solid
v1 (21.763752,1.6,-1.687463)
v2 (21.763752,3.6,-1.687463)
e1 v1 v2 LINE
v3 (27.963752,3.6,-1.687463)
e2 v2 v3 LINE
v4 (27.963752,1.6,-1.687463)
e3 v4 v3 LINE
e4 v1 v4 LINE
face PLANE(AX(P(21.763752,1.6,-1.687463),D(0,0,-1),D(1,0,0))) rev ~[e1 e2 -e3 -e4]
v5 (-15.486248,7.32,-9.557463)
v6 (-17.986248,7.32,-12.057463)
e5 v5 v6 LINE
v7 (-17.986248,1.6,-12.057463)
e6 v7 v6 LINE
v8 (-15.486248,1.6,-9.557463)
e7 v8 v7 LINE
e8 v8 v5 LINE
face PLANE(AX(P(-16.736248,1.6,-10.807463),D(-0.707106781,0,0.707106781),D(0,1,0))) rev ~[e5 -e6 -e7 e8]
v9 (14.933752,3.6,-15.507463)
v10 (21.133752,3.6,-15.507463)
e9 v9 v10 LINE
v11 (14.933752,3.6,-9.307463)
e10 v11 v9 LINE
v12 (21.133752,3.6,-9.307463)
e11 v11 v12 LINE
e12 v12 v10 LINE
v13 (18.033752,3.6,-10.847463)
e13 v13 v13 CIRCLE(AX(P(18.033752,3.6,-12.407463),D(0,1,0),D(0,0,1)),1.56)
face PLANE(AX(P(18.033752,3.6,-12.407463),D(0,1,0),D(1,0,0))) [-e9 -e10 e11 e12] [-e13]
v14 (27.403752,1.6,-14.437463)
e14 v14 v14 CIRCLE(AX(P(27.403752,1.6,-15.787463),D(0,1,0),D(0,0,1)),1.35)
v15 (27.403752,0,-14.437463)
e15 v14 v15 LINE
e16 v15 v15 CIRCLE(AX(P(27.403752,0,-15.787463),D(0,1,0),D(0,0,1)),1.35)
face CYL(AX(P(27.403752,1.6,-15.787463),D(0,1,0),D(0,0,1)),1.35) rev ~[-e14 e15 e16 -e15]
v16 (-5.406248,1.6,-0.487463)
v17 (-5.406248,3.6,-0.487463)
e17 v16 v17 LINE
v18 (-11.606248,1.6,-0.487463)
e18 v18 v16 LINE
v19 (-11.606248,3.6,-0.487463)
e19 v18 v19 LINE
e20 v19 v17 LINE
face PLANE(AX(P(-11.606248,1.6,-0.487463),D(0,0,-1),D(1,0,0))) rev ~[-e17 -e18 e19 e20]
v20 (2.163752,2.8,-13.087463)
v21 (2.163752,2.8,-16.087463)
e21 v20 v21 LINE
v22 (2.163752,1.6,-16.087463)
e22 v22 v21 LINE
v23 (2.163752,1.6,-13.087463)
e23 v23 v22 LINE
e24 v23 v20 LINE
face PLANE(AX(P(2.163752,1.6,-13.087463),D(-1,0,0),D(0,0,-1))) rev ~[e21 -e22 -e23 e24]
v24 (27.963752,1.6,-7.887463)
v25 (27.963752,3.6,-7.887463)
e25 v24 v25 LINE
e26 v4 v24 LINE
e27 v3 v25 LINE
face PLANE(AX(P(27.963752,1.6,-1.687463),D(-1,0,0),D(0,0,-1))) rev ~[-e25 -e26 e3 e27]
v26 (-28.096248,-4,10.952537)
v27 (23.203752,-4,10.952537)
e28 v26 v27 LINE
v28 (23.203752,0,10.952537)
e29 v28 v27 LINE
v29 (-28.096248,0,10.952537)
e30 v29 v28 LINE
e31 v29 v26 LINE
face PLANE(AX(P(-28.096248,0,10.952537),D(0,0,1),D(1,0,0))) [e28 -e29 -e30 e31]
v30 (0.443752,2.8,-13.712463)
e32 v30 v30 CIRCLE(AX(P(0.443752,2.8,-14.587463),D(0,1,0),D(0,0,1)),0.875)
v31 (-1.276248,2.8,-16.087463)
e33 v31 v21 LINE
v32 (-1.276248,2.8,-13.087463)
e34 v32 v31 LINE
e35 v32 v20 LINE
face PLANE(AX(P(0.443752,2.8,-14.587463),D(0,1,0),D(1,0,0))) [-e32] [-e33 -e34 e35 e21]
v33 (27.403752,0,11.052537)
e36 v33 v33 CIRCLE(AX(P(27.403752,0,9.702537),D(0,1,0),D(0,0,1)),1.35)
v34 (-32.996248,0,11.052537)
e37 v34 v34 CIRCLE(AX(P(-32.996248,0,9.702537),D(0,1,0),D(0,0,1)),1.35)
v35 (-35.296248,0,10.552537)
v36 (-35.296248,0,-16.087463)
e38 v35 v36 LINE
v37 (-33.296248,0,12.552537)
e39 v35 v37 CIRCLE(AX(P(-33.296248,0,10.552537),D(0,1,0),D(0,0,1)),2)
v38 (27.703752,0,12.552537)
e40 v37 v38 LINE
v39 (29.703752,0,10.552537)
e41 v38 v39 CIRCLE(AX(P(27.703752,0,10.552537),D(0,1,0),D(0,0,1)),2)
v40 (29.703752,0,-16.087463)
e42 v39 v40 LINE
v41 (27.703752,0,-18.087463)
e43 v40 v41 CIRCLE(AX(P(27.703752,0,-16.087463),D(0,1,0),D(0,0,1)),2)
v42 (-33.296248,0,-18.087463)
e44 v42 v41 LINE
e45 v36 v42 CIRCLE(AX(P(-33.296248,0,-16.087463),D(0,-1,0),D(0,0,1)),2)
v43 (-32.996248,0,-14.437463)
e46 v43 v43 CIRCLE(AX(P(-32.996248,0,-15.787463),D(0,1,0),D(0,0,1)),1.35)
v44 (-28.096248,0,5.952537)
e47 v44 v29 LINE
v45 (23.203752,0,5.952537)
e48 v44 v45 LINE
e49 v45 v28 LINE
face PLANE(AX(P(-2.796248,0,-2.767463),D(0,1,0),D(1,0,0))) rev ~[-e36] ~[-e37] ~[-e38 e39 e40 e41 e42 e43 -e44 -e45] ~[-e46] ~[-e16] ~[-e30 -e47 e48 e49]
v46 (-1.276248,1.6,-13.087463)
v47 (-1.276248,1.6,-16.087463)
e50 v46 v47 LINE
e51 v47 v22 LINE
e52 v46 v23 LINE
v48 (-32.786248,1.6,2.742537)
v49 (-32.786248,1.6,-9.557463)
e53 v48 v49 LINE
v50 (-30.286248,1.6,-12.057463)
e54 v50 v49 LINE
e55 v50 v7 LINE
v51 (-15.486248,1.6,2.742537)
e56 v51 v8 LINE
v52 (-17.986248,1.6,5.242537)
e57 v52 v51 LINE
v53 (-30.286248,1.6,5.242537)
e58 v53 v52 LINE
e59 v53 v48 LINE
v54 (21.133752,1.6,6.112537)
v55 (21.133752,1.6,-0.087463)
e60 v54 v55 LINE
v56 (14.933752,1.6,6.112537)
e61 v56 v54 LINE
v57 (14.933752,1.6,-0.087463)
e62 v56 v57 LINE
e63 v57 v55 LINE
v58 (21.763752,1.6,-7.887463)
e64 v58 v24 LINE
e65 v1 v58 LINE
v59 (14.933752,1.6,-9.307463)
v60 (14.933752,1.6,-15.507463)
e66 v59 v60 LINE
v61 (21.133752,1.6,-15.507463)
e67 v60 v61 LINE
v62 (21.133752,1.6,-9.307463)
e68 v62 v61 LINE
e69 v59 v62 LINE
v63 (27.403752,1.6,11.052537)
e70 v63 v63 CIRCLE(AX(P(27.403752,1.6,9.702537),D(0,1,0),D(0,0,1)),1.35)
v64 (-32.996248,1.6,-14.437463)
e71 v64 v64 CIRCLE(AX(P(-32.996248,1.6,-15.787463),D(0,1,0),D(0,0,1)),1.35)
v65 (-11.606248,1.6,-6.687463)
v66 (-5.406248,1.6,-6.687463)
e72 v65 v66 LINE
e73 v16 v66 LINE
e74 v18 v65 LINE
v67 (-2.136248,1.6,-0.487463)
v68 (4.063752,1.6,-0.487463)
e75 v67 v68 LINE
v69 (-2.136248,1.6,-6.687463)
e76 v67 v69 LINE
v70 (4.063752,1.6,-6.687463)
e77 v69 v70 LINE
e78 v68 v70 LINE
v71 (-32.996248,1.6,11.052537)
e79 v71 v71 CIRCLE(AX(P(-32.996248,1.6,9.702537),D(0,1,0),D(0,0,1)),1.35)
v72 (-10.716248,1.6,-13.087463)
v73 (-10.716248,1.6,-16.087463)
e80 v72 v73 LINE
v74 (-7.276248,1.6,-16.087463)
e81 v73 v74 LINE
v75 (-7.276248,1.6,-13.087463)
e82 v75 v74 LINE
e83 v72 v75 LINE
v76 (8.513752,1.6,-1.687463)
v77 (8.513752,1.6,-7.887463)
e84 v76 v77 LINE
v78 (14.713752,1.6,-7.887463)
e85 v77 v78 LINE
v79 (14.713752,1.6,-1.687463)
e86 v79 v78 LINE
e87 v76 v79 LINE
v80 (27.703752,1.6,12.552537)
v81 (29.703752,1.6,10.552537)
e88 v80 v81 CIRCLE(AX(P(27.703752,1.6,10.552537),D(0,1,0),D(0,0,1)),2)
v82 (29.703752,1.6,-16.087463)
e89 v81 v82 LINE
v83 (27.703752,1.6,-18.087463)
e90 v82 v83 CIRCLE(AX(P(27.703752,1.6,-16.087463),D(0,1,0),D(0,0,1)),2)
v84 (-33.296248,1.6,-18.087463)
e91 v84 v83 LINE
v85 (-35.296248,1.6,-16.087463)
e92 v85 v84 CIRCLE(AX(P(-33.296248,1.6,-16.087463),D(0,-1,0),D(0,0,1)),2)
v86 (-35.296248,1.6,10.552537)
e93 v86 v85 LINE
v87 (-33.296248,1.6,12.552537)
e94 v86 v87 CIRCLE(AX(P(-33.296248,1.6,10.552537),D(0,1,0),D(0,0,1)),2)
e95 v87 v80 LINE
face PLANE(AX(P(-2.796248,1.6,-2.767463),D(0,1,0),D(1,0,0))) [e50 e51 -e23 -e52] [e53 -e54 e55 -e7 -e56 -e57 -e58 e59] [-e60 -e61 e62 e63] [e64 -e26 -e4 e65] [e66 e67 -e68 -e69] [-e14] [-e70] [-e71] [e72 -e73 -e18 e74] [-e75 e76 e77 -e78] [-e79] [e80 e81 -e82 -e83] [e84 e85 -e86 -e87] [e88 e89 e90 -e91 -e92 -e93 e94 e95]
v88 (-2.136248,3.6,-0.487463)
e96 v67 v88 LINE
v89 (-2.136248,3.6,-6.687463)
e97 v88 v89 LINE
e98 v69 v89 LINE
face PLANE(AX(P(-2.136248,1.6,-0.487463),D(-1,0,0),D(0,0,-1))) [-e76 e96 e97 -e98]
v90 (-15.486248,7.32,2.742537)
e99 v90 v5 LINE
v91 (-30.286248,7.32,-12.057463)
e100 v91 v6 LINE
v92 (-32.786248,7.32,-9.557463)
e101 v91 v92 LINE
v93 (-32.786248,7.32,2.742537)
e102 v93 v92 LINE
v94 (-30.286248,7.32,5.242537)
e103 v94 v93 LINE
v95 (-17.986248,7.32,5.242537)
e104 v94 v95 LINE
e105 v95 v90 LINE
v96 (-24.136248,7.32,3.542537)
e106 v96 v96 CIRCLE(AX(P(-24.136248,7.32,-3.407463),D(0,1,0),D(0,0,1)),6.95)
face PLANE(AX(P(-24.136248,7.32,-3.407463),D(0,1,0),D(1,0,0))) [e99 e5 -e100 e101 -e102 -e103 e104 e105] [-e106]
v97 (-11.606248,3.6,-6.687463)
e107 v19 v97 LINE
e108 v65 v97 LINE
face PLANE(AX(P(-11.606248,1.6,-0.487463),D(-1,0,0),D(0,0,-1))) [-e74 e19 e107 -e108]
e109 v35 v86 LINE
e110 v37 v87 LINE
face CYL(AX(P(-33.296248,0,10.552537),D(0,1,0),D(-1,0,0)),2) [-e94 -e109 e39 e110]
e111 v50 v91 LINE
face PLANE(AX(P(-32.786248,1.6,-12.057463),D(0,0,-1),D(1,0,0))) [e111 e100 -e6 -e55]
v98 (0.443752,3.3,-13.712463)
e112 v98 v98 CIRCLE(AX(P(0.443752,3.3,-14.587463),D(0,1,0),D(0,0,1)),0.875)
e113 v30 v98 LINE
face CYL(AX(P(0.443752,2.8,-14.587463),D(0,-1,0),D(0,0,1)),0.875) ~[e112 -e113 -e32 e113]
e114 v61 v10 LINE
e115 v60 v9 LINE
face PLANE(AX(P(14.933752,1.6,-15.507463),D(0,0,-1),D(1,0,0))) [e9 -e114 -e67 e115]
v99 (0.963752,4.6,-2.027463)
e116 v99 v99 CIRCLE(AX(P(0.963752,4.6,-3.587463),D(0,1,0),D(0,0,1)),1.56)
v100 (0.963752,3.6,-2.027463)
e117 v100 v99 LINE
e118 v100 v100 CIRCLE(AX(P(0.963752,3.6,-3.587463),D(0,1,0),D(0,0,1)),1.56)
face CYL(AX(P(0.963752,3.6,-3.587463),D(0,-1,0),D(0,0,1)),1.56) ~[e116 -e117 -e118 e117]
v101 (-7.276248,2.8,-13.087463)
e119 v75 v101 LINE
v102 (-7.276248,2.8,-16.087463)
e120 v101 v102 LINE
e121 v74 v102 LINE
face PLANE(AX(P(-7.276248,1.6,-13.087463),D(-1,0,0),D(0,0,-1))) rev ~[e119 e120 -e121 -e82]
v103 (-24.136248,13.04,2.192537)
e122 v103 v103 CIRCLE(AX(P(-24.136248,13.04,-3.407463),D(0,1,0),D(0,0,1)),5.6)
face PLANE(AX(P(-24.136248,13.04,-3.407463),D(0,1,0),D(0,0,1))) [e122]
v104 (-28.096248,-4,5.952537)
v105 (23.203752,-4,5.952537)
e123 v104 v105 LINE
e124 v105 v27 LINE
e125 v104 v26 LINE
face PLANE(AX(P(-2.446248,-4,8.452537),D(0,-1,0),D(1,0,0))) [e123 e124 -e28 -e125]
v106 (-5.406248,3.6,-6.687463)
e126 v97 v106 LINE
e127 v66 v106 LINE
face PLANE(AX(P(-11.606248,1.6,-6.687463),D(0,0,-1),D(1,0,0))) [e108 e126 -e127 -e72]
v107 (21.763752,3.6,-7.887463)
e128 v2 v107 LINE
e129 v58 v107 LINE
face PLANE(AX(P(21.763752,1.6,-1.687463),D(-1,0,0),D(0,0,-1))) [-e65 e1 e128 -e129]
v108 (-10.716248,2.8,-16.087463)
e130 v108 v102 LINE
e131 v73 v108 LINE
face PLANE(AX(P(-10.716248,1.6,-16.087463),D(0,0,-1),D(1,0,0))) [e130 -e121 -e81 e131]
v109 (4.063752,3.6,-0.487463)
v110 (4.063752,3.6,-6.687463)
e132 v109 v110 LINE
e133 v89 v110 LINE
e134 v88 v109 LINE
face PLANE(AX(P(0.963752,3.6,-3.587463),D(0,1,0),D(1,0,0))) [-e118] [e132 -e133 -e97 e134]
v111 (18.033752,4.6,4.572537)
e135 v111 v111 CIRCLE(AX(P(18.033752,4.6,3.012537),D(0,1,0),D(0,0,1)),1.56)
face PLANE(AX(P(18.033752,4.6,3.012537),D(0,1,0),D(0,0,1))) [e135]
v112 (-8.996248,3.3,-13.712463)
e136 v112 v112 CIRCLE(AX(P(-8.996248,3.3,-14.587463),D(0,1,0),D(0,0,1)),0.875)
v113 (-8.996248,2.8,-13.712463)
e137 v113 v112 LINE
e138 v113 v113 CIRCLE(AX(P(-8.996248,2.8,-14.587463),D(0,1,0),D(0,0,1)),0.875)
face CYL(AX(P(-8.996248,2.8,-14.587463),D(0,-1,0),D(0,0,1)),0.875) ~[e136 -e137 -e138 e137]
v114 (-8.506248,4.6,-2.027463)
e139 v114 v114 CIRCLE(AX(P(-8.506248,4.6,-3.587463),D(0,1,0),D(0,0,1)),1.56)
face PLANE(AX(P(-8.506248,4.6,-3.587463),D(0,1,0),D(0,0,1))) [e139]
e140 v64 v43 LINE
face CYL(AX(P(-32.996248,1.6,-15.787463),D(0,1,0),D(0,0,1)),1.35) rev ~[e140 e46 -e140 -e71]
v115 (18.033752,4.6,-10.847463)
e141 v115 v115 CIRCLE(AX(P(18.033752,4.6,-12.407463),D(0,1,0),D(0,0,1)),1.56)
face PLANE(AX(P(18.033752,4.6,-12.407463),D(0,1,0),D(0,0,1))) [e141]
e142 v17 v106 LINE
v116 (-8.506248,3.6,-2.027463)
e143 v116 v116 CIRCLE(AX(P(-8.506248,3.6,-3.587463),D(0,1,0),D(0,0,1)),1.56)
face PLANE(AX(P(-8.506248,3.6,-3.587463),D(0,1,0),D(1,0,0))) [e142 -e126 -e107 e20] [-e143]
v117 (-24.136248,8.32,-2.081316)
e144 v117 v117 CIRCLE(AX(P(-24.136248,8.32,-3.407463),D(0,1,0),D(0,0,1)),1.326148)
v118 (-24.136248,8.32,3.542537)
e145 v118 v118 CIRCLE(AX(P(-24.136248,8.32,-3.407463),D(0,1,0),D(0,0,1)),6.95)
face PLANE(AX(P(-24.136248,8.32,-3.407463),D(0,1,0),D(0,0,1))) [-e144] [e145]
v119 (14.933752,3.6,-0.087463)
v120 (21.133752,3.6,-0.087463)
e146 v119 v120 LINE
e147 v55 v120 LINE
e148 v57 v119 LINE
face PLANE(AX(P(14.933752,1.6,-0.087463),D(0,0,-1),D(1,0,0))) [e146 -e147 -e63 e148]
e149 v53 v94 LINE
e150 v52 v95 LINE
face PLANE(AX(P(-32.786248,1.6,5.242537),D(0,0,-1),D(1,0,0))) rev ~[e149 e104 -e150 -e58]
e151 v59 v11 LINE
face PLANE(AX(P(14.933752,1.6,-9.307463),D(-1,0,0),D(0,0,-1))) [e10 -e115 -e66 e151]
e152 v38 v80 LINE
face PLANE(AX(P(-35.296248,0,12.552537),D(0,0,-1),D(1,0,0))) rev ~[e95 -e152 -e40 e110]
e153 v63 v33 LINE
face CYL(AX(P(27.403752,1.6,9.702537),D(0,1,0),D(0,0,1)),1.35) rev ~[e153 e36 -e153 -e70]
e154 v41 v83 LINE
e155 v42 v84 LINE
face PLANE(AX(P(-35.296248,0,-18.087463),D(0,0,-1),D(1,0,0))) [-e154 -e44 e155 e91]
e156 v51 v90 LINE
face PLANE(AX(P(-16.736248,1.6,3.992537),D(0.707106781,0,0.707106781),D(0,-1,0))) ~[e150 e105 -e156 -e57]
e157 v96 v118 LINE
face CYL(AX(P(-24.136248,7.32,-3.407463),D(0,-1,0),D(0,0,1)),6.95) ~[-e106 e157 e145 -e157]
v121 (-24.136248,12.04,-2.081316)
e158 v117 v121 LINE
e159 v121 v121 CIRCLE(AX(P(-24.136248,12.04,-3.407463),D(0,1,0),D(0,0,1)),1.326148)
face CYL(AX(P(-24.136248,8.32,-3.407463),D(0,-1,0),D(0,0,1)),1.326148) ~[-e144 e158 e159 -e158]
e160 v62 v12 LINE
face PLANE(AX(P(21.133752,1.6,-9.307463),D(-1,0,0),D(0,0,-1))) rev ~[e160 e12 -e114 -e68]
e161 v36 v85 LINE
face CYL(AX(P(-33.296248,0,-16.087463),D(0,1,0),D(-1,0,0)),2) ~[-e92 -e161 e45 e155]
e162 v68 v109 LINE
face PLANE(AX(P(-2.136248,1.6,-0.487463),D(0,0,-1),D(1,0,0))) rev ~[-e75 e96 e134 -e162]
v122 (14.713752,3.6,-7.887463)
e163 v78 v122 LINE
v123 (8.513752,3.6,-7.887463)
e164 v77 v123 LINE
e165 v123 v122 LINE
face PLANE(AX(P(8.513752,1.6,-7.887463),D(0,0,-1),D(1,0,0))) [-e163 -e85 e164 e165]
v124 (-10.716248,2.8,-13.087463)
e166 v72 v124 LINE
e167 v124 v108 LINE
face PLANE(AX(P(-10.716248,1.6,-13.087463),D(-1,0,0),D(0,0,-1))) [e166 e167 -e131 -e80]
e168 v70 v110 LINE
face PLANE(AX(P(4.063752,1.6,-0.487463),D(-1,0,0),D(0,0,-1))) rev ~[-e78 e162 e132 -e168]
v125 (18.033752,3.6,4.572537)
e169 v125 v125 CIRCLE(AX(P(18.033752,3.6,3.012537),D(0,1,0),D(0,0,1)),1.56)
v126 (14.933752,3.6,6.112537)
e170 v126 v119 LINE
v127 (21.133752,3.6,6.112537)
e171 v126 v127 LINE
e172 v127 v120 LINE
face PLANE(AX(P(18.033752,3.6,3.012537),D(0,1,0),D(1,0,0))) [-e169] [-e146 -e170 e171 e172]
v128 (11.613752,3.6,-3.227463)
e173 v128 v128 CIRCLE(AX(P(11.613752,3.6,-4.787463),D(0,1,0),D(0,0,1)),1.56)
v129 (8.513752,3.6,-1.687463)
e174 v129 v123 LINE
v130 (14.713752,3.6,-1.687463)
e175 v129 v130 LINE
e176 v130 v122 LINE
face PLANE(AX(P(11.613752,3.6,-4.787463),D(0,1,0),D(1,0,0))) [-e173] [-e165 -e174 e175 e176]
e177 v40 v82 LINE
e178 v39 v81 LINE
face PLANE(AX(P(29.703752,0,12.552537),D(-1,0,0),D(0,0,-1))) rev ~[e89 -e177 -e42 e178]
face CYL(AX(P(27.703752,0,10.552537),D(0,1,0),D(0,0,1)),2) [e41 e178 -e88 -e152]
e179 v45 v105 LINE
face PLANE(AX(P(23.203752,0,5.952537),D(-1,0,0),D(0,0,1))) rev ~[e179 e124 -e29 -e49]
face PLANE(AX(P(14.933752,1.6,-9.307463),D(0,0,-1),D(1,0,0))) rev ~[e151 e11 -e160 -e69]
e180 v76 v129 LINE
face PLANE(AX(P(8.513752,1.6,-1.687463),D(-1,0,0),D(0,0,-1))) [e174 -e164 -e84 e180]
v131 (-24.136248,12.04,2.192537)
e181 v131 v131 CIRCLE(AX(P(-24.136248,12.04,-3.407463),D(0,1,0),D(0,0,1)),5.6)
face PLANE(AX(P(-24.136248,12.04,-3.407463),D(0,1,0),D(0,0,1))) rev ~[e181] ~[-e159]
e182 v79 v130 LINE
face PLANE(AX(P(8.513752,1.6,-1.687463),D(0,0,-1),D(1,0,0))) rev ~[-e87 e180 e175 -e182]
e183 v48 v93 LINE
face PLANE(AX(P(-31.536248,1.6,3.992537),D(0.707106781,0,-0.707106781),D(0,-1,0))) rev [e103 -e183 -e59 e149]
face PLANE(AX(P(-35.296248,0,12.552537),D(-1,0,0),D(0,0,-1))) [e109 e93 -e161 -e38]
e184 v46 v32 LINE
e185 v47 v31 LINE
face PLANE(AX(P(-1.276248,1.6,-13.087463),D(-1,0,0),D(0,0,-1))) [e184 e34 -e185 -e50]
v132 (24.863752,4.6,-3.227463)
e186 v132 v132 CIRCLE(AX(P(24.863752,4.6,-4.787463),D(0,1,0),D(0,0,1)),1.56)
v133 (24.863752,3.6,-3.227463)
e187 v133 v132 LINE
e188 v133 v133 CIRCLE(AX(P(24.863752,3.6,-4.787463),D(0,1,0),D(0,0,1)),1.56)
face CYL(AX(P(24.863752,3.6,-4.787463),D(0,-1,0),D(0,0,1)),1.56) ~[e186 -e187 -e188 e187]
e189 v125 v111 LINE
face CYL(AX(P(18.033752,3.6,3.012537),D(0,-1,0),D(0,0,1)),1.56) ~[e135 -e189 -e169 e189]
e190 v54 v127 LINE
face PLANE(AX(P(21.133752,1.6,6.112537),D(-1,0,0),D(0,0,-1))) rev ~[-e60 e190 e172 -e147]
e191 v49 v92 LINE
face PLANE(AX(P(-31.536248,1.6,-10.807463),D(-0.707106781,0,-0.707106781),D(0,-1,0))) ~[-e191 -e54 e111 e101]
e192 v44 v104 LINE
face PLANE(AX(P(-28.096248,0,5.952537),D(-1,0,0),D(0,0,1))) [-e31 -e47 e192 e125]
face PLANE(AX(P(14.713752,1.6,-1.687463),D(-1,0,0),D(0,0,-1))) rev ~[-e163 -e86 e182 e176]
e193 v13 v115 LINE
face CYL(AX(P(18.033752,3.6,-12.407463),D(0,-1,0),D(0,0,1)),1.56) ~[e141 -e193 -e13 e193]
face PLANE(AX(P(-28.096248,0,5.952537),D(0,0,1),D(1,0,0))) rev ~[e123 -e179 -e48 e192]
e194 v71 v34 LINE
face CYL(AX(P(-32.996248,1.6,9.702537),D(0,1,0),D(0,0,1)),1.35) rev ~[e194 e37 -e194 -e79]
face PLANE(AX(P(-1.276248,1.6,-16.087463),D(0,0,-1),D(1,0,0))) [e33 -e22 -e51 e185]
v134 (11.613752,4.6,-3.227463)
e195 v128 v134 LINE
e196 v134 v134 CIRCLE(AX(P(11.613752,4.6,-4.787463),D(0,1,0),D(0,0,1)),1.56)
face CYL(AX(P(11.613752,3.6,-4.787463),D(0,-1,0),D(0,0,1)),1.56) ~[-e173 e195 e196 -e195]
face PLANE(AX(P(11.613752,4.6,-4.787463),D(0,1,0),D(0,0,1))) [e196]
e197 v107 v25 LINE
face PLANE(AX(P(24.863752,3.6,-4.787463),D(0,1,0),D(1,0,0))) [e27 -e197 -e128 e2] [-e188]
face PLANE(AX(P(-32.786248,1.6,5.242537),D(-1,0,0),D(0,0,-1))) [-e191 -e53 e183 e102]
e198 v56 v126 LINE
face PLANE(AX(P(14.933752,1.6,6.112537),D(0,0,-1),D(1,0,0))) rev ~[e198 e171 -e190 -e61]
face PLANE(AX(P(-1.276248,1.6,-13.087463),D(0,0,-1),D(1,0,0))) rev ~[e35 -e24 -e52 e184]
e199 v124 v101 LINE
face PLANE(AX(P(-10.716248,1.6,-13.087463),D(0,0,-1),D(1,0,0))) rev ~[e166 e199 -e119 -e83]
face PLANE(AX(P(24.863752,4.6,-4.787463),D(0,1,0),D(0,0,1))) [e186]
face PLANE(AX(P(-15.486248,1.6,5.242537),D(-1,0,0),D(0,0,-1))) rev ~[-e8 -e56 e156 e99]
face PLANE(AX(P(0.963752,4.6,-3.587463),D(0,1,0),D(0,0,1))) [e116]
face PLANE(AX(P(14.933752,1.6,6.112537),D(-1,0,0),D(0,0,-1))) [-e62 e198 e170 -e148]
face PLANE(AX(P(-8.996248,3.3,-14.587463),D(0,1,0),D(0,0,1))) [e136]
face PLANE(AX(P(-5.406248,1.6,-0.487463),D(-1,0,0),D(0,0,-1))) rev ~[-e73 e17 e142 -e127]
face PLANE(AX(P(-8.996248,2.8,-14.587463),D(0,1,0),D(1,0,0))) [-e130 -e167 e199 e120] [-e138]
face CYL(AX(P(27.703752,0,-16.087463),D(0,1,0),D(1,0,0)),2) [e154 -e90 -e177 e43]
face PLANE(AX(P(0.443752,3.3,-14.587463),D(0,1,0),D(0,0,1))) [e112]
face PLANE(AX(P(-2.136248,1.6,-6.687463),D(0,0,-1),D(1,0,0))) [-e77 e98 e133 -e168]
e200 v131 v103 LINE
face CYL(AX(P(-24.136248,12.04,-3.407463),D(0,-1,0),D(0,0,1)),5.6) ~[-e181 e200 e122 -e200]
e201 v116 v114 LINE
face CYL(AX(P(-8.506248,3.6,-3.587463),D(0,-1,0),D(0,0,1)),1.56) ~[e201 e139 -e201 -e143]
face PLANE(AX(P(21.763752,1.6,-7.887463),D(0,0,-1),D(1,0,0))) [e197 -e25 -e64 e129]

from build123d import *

# Parameters (mm, degrees)
SKETCH_1_W          = 65
SKETCH_1_H          = 30.64
EXTRUDE_1_DEPTH     = 1.6
FILLET_1_R          = 2
SKETCH_2_R          = 1.35
CUT_EXTRUDE_1_DEPTH = 1.6
SKETCH_3_W          = 51.3
SKETCH_3_H          = 5
EXTRUDE_2_DEPTH     = 4
SKETCH_4_W          = 17.3
SKETCH_4_H          = 17.3
EXTRUDE_3_DEPTH     = 5.72
CHAMFER_1_SIZE      = 2.5
SKETCH_5_R          = 6.95
EXTRUDE_4_DEPTH     = 1
SKETCH_6_R          = 1.326147724
EXTRUDE_5_DEPTH     = 3.72
SKETCH_7_R          = 5.6
EXTRUDE_6_DEPTH     = 1
SKETCH_8_W          = 6.2
SKETCH_8_H          = 6.2
EXTRUDE_7_DEPTH     = 2
SKETCH_9_R          = 1.56
EXTRUDE_8_DEPTH     = 1
SKETCH_10_W         = 3.44
SKETCH_10_H         = 3
EXTRUDE_9_DEPTH     = 1.2
SKETCH_11_R         = 0.875
EXTRUDE_10_DEPTH    = 0.5


with BuildPart() as part:
    # 草图1 → 凸台-拉伸1 (new body)
    with BuildSketch(Plane(origin=(0, 0, 0), x_dir=(1, 0, 0), z_dir=(0, 1, 0))):
        with Locations((-2.796247961, 2.767463295)):
            Rectangle(SKETCH_1_W, SKETCH_1_H)
    extrude(amount=EXTRUDE_1_DEPTH)

    # 圆角1
    fillet_1_edges = [part.edges().sort_by_distance(p)[0] for p in [
        (-35.296247961, 0.8, -18.087463295),
        (29.703752039, 0.8, -18.087463295),
        (29.703752039, 0.8, 12.552536705),
        (-35.296247961, 0.8, 12.552536705),
    ]]
    fillet(fillet_1_edges, radius=FILLET_1_R)

    # 草图2 → 切除-拉伸1 (cut)
    with BuildSketch(Plane(origin=(0, 1.6, 0), x_dir=(1, 0, 0), z_dir=(0, 1, 0))):
        with Locations(Location((-32.996247961, 15.787463295, 0), (0, 0, 270))):  # turned: the seam where the file's is
            Circle(SKETCH_2_R)
        with Locations(Location((27.403752039, 15.787463295, 0), (0, 0, 270))):  # turned: the seam where the file's is
            Circle(SKETCH_2_R)
        with Locations(Location((27.403752039, -9.702536705, 0), (0, 0, 270))):  # turned: the seam where the file's is
            Circle(SKETCH_2_R)
        with Locations(Location((-32.996247961, -9.702536705, 0), (0, 0, 270))):  # turned: the seam where the file's is
            Circle(SKETCH_2_R)
    extrude(amount=-CUT_EXTRUDE_1_DEPTH, mode=Mode.SUBTRACT)

    # 草图3 → 凸台-拉伸2 (add)
    with BuildSketch(Plane.XZ):
        with Locations((-2.446247961, 8.452536705)):
            Rectangle(SKETCH_3_W, SKETCH_3_H)
    extrude(amount=EXTRUDE_2_DEPTH)

    # 草图4 → 凸台-拉伸3 (add)
    with BuildSketch(Plane(origin=(0, 1.6, 0), x_dir=(1, 0, 0), z_dir=(0, 1, 0))):
        with Locations((-24.136247961, 3.407463295)):
            Rectangle(SKETCH_4_W, SKETCH_4_H)
    extrude(amount=EXTRUDE_3_DEPTH)

    # 倒角1
    chamfer_1_edges = [part.edges().sort_by_distance(p)[0] for p in [
        (-32.786247961, 4.46, -12.057463295),
        (-32.786247961, 4.46, 5.242536705),
        (-15.486247961, 4.46, 5.242536705),
        (-15.486247961, 4.46, -12.057463295),
    ]]
    chamfer(chamfer_1_edges, length=CHAMFER_1_SIZE)

    # 草图5 → 凸台-拉伸4 (add)
    with BuildSketch(Plane(origin=(0, 7.32, 0), x_dir=(1, 0, 0), z_dir=(0, 1, 0))):
        with Locations(Location((-24.136247961, 3.407463295, 0), (0, 0, 270))):  # turned: the seam where the file's is
            Circle(SKETCH_5_R)
    extrude(amount=EXTRUDE_4_DEPTH)

    # 草图6 → 凸台-拉伸5 (add)
    with BuildSketch(Plane(origin=(0, 8.32, 0), x_dir=(1, 0, 0), z_dir=(0, 1, 0))):
        with Locations(Location((-24.136247961, 3.407463295, 0), (0, 0, 270))):  # turned: the seam where the file's is
            Circle(SKETCH_6_R)
    extrude(amount=EXTRUDE_5_DEPTH)

    # 草图7 → 凸台-拉伸6 (add)
    with BuildSketch(Plane(origin=(0, 12.04, 0), x_dir=(1, 0, 0), z_dir=(0, 1, 0))):
        with Locations(Location((-24.136247961, 3.407463295, 0), (0, 0, 270))):  # turned: the seam where the file's is
            Circle(SKETCH_7_R)
    extrude(amount=EXTRUDE_6_DEPTH)

    # 草图8 → 凸台-拉伸7 (add)
    with BuildSketch(Plane(origin=(0, 1.6, 0), x_dir=(1, 0, 0), z_dir=(0, 1, 0))):
        with Locations((-8.506247961, 3.587463295)):
            Rectangle(SKETCH_8_W, SKETCH_8_H)
        with Locations((0.963752039, 3.587463295)):
            Rectangle(SKETCH_8_W, SKETCH_8_H)
        with Locations((11.613752039, 4.787463295)):
            Rectangle(SKETCH_8_W, SKETCH_8_H)
        with Locations((18.033752039, 12.407463295)):
            Rectangle(SKETCH_8_W, SKETCH_8_H)
        with Locations((24.863752039, 4.787463295)):
            Rectangle(SKETCH_8_W, SKETCH_8_H)
        with Locations((18.033752039, -3.012536705)):
            Rectangle(SKETCH_8_W, SKETCH_8_H)
    extrude(amount=EXTRUDE_7_DEPTH)

    # 草图9 → 凸台-拉伸8 (add)
    with BuildSketch(Plane(origin=(0, 3.6, 0), x_dir=(1, 0, 0), z_dir=(0, 1, 0))):
        with Locations(Location((-8.506247961, 3.587463295, 0), (0, 0, 270))):  # turned: the seam where the file's is
            Circle(SKETCH_9_R)
        with Locations(Location((0.963752039, 3.587463295, 0), (0, 0, 270))):  # turned: the seam where the file's is
            Circle(SKETCH_9_R)
        with Locations(Location((11.613752039, 4.787463295, 0), (0, 0, 270))):  # turned: the seam where the file's is
            Circle(SKETCH_9_R)
        with Locations(Location((18.033752039, 12.407463295, 0), (0, 0, 270))):  # turned: the seam where the file's is
            Circle(SKETCH_9_R)
        with Locations(Location((24.863752039, 4.787463295, 0), (0, 0, 270))):  # turned: the seam where the file's is
            Circle(SKETCH_9_R)
        with Locations(Location((18.033752039, -3.012536705, 0), (0, 0, 270))):  # turned: the seam where the file's is
            Circle(SKETCH_9_R)
    extrude(amount=EXTRUDE_8_DEPTH)

    # 草图10 → 凸台-拉伸9 (add)
    with BuildSketch(Plane(origin=(0, 1.6, 0), x_dir=(1, 0, 0), z_dir=(0, 1, 0))):
        with Locations((-8.996247961, 14.587463295)):
            Rectangle(SKETCH_10_W, SKETCH_10_H)
        with Locations((0.443752039, 14.587463295)):
            Rectangle(SKETCH_10_W, SKETCH_10_H)
    extrude(amount=EXTRUDE_9_DEPTH)

    # 草图11 → 凸台-拉伸10 (add)
    with BuildSketch(Plane(origin=(0, 2.8, 0), x_dir=(1, 0, 0), z_dir=(0, 1, 0))):
        with Locations(Location((-8.996247961, 14.587463295, 0), (0, 0, 270))):  # turned: the seam where the file's is
            Circle(SKETCH_11_R)
        with Locations(Location((0.443752039, 14.587463295, 0), (0, 0, 270))):  # turned: the seam where the file's is
            Circle(SKETCH_11_R)
    extrude(amount=EXTRUDE_10_DEPTH)


solid = part.part
